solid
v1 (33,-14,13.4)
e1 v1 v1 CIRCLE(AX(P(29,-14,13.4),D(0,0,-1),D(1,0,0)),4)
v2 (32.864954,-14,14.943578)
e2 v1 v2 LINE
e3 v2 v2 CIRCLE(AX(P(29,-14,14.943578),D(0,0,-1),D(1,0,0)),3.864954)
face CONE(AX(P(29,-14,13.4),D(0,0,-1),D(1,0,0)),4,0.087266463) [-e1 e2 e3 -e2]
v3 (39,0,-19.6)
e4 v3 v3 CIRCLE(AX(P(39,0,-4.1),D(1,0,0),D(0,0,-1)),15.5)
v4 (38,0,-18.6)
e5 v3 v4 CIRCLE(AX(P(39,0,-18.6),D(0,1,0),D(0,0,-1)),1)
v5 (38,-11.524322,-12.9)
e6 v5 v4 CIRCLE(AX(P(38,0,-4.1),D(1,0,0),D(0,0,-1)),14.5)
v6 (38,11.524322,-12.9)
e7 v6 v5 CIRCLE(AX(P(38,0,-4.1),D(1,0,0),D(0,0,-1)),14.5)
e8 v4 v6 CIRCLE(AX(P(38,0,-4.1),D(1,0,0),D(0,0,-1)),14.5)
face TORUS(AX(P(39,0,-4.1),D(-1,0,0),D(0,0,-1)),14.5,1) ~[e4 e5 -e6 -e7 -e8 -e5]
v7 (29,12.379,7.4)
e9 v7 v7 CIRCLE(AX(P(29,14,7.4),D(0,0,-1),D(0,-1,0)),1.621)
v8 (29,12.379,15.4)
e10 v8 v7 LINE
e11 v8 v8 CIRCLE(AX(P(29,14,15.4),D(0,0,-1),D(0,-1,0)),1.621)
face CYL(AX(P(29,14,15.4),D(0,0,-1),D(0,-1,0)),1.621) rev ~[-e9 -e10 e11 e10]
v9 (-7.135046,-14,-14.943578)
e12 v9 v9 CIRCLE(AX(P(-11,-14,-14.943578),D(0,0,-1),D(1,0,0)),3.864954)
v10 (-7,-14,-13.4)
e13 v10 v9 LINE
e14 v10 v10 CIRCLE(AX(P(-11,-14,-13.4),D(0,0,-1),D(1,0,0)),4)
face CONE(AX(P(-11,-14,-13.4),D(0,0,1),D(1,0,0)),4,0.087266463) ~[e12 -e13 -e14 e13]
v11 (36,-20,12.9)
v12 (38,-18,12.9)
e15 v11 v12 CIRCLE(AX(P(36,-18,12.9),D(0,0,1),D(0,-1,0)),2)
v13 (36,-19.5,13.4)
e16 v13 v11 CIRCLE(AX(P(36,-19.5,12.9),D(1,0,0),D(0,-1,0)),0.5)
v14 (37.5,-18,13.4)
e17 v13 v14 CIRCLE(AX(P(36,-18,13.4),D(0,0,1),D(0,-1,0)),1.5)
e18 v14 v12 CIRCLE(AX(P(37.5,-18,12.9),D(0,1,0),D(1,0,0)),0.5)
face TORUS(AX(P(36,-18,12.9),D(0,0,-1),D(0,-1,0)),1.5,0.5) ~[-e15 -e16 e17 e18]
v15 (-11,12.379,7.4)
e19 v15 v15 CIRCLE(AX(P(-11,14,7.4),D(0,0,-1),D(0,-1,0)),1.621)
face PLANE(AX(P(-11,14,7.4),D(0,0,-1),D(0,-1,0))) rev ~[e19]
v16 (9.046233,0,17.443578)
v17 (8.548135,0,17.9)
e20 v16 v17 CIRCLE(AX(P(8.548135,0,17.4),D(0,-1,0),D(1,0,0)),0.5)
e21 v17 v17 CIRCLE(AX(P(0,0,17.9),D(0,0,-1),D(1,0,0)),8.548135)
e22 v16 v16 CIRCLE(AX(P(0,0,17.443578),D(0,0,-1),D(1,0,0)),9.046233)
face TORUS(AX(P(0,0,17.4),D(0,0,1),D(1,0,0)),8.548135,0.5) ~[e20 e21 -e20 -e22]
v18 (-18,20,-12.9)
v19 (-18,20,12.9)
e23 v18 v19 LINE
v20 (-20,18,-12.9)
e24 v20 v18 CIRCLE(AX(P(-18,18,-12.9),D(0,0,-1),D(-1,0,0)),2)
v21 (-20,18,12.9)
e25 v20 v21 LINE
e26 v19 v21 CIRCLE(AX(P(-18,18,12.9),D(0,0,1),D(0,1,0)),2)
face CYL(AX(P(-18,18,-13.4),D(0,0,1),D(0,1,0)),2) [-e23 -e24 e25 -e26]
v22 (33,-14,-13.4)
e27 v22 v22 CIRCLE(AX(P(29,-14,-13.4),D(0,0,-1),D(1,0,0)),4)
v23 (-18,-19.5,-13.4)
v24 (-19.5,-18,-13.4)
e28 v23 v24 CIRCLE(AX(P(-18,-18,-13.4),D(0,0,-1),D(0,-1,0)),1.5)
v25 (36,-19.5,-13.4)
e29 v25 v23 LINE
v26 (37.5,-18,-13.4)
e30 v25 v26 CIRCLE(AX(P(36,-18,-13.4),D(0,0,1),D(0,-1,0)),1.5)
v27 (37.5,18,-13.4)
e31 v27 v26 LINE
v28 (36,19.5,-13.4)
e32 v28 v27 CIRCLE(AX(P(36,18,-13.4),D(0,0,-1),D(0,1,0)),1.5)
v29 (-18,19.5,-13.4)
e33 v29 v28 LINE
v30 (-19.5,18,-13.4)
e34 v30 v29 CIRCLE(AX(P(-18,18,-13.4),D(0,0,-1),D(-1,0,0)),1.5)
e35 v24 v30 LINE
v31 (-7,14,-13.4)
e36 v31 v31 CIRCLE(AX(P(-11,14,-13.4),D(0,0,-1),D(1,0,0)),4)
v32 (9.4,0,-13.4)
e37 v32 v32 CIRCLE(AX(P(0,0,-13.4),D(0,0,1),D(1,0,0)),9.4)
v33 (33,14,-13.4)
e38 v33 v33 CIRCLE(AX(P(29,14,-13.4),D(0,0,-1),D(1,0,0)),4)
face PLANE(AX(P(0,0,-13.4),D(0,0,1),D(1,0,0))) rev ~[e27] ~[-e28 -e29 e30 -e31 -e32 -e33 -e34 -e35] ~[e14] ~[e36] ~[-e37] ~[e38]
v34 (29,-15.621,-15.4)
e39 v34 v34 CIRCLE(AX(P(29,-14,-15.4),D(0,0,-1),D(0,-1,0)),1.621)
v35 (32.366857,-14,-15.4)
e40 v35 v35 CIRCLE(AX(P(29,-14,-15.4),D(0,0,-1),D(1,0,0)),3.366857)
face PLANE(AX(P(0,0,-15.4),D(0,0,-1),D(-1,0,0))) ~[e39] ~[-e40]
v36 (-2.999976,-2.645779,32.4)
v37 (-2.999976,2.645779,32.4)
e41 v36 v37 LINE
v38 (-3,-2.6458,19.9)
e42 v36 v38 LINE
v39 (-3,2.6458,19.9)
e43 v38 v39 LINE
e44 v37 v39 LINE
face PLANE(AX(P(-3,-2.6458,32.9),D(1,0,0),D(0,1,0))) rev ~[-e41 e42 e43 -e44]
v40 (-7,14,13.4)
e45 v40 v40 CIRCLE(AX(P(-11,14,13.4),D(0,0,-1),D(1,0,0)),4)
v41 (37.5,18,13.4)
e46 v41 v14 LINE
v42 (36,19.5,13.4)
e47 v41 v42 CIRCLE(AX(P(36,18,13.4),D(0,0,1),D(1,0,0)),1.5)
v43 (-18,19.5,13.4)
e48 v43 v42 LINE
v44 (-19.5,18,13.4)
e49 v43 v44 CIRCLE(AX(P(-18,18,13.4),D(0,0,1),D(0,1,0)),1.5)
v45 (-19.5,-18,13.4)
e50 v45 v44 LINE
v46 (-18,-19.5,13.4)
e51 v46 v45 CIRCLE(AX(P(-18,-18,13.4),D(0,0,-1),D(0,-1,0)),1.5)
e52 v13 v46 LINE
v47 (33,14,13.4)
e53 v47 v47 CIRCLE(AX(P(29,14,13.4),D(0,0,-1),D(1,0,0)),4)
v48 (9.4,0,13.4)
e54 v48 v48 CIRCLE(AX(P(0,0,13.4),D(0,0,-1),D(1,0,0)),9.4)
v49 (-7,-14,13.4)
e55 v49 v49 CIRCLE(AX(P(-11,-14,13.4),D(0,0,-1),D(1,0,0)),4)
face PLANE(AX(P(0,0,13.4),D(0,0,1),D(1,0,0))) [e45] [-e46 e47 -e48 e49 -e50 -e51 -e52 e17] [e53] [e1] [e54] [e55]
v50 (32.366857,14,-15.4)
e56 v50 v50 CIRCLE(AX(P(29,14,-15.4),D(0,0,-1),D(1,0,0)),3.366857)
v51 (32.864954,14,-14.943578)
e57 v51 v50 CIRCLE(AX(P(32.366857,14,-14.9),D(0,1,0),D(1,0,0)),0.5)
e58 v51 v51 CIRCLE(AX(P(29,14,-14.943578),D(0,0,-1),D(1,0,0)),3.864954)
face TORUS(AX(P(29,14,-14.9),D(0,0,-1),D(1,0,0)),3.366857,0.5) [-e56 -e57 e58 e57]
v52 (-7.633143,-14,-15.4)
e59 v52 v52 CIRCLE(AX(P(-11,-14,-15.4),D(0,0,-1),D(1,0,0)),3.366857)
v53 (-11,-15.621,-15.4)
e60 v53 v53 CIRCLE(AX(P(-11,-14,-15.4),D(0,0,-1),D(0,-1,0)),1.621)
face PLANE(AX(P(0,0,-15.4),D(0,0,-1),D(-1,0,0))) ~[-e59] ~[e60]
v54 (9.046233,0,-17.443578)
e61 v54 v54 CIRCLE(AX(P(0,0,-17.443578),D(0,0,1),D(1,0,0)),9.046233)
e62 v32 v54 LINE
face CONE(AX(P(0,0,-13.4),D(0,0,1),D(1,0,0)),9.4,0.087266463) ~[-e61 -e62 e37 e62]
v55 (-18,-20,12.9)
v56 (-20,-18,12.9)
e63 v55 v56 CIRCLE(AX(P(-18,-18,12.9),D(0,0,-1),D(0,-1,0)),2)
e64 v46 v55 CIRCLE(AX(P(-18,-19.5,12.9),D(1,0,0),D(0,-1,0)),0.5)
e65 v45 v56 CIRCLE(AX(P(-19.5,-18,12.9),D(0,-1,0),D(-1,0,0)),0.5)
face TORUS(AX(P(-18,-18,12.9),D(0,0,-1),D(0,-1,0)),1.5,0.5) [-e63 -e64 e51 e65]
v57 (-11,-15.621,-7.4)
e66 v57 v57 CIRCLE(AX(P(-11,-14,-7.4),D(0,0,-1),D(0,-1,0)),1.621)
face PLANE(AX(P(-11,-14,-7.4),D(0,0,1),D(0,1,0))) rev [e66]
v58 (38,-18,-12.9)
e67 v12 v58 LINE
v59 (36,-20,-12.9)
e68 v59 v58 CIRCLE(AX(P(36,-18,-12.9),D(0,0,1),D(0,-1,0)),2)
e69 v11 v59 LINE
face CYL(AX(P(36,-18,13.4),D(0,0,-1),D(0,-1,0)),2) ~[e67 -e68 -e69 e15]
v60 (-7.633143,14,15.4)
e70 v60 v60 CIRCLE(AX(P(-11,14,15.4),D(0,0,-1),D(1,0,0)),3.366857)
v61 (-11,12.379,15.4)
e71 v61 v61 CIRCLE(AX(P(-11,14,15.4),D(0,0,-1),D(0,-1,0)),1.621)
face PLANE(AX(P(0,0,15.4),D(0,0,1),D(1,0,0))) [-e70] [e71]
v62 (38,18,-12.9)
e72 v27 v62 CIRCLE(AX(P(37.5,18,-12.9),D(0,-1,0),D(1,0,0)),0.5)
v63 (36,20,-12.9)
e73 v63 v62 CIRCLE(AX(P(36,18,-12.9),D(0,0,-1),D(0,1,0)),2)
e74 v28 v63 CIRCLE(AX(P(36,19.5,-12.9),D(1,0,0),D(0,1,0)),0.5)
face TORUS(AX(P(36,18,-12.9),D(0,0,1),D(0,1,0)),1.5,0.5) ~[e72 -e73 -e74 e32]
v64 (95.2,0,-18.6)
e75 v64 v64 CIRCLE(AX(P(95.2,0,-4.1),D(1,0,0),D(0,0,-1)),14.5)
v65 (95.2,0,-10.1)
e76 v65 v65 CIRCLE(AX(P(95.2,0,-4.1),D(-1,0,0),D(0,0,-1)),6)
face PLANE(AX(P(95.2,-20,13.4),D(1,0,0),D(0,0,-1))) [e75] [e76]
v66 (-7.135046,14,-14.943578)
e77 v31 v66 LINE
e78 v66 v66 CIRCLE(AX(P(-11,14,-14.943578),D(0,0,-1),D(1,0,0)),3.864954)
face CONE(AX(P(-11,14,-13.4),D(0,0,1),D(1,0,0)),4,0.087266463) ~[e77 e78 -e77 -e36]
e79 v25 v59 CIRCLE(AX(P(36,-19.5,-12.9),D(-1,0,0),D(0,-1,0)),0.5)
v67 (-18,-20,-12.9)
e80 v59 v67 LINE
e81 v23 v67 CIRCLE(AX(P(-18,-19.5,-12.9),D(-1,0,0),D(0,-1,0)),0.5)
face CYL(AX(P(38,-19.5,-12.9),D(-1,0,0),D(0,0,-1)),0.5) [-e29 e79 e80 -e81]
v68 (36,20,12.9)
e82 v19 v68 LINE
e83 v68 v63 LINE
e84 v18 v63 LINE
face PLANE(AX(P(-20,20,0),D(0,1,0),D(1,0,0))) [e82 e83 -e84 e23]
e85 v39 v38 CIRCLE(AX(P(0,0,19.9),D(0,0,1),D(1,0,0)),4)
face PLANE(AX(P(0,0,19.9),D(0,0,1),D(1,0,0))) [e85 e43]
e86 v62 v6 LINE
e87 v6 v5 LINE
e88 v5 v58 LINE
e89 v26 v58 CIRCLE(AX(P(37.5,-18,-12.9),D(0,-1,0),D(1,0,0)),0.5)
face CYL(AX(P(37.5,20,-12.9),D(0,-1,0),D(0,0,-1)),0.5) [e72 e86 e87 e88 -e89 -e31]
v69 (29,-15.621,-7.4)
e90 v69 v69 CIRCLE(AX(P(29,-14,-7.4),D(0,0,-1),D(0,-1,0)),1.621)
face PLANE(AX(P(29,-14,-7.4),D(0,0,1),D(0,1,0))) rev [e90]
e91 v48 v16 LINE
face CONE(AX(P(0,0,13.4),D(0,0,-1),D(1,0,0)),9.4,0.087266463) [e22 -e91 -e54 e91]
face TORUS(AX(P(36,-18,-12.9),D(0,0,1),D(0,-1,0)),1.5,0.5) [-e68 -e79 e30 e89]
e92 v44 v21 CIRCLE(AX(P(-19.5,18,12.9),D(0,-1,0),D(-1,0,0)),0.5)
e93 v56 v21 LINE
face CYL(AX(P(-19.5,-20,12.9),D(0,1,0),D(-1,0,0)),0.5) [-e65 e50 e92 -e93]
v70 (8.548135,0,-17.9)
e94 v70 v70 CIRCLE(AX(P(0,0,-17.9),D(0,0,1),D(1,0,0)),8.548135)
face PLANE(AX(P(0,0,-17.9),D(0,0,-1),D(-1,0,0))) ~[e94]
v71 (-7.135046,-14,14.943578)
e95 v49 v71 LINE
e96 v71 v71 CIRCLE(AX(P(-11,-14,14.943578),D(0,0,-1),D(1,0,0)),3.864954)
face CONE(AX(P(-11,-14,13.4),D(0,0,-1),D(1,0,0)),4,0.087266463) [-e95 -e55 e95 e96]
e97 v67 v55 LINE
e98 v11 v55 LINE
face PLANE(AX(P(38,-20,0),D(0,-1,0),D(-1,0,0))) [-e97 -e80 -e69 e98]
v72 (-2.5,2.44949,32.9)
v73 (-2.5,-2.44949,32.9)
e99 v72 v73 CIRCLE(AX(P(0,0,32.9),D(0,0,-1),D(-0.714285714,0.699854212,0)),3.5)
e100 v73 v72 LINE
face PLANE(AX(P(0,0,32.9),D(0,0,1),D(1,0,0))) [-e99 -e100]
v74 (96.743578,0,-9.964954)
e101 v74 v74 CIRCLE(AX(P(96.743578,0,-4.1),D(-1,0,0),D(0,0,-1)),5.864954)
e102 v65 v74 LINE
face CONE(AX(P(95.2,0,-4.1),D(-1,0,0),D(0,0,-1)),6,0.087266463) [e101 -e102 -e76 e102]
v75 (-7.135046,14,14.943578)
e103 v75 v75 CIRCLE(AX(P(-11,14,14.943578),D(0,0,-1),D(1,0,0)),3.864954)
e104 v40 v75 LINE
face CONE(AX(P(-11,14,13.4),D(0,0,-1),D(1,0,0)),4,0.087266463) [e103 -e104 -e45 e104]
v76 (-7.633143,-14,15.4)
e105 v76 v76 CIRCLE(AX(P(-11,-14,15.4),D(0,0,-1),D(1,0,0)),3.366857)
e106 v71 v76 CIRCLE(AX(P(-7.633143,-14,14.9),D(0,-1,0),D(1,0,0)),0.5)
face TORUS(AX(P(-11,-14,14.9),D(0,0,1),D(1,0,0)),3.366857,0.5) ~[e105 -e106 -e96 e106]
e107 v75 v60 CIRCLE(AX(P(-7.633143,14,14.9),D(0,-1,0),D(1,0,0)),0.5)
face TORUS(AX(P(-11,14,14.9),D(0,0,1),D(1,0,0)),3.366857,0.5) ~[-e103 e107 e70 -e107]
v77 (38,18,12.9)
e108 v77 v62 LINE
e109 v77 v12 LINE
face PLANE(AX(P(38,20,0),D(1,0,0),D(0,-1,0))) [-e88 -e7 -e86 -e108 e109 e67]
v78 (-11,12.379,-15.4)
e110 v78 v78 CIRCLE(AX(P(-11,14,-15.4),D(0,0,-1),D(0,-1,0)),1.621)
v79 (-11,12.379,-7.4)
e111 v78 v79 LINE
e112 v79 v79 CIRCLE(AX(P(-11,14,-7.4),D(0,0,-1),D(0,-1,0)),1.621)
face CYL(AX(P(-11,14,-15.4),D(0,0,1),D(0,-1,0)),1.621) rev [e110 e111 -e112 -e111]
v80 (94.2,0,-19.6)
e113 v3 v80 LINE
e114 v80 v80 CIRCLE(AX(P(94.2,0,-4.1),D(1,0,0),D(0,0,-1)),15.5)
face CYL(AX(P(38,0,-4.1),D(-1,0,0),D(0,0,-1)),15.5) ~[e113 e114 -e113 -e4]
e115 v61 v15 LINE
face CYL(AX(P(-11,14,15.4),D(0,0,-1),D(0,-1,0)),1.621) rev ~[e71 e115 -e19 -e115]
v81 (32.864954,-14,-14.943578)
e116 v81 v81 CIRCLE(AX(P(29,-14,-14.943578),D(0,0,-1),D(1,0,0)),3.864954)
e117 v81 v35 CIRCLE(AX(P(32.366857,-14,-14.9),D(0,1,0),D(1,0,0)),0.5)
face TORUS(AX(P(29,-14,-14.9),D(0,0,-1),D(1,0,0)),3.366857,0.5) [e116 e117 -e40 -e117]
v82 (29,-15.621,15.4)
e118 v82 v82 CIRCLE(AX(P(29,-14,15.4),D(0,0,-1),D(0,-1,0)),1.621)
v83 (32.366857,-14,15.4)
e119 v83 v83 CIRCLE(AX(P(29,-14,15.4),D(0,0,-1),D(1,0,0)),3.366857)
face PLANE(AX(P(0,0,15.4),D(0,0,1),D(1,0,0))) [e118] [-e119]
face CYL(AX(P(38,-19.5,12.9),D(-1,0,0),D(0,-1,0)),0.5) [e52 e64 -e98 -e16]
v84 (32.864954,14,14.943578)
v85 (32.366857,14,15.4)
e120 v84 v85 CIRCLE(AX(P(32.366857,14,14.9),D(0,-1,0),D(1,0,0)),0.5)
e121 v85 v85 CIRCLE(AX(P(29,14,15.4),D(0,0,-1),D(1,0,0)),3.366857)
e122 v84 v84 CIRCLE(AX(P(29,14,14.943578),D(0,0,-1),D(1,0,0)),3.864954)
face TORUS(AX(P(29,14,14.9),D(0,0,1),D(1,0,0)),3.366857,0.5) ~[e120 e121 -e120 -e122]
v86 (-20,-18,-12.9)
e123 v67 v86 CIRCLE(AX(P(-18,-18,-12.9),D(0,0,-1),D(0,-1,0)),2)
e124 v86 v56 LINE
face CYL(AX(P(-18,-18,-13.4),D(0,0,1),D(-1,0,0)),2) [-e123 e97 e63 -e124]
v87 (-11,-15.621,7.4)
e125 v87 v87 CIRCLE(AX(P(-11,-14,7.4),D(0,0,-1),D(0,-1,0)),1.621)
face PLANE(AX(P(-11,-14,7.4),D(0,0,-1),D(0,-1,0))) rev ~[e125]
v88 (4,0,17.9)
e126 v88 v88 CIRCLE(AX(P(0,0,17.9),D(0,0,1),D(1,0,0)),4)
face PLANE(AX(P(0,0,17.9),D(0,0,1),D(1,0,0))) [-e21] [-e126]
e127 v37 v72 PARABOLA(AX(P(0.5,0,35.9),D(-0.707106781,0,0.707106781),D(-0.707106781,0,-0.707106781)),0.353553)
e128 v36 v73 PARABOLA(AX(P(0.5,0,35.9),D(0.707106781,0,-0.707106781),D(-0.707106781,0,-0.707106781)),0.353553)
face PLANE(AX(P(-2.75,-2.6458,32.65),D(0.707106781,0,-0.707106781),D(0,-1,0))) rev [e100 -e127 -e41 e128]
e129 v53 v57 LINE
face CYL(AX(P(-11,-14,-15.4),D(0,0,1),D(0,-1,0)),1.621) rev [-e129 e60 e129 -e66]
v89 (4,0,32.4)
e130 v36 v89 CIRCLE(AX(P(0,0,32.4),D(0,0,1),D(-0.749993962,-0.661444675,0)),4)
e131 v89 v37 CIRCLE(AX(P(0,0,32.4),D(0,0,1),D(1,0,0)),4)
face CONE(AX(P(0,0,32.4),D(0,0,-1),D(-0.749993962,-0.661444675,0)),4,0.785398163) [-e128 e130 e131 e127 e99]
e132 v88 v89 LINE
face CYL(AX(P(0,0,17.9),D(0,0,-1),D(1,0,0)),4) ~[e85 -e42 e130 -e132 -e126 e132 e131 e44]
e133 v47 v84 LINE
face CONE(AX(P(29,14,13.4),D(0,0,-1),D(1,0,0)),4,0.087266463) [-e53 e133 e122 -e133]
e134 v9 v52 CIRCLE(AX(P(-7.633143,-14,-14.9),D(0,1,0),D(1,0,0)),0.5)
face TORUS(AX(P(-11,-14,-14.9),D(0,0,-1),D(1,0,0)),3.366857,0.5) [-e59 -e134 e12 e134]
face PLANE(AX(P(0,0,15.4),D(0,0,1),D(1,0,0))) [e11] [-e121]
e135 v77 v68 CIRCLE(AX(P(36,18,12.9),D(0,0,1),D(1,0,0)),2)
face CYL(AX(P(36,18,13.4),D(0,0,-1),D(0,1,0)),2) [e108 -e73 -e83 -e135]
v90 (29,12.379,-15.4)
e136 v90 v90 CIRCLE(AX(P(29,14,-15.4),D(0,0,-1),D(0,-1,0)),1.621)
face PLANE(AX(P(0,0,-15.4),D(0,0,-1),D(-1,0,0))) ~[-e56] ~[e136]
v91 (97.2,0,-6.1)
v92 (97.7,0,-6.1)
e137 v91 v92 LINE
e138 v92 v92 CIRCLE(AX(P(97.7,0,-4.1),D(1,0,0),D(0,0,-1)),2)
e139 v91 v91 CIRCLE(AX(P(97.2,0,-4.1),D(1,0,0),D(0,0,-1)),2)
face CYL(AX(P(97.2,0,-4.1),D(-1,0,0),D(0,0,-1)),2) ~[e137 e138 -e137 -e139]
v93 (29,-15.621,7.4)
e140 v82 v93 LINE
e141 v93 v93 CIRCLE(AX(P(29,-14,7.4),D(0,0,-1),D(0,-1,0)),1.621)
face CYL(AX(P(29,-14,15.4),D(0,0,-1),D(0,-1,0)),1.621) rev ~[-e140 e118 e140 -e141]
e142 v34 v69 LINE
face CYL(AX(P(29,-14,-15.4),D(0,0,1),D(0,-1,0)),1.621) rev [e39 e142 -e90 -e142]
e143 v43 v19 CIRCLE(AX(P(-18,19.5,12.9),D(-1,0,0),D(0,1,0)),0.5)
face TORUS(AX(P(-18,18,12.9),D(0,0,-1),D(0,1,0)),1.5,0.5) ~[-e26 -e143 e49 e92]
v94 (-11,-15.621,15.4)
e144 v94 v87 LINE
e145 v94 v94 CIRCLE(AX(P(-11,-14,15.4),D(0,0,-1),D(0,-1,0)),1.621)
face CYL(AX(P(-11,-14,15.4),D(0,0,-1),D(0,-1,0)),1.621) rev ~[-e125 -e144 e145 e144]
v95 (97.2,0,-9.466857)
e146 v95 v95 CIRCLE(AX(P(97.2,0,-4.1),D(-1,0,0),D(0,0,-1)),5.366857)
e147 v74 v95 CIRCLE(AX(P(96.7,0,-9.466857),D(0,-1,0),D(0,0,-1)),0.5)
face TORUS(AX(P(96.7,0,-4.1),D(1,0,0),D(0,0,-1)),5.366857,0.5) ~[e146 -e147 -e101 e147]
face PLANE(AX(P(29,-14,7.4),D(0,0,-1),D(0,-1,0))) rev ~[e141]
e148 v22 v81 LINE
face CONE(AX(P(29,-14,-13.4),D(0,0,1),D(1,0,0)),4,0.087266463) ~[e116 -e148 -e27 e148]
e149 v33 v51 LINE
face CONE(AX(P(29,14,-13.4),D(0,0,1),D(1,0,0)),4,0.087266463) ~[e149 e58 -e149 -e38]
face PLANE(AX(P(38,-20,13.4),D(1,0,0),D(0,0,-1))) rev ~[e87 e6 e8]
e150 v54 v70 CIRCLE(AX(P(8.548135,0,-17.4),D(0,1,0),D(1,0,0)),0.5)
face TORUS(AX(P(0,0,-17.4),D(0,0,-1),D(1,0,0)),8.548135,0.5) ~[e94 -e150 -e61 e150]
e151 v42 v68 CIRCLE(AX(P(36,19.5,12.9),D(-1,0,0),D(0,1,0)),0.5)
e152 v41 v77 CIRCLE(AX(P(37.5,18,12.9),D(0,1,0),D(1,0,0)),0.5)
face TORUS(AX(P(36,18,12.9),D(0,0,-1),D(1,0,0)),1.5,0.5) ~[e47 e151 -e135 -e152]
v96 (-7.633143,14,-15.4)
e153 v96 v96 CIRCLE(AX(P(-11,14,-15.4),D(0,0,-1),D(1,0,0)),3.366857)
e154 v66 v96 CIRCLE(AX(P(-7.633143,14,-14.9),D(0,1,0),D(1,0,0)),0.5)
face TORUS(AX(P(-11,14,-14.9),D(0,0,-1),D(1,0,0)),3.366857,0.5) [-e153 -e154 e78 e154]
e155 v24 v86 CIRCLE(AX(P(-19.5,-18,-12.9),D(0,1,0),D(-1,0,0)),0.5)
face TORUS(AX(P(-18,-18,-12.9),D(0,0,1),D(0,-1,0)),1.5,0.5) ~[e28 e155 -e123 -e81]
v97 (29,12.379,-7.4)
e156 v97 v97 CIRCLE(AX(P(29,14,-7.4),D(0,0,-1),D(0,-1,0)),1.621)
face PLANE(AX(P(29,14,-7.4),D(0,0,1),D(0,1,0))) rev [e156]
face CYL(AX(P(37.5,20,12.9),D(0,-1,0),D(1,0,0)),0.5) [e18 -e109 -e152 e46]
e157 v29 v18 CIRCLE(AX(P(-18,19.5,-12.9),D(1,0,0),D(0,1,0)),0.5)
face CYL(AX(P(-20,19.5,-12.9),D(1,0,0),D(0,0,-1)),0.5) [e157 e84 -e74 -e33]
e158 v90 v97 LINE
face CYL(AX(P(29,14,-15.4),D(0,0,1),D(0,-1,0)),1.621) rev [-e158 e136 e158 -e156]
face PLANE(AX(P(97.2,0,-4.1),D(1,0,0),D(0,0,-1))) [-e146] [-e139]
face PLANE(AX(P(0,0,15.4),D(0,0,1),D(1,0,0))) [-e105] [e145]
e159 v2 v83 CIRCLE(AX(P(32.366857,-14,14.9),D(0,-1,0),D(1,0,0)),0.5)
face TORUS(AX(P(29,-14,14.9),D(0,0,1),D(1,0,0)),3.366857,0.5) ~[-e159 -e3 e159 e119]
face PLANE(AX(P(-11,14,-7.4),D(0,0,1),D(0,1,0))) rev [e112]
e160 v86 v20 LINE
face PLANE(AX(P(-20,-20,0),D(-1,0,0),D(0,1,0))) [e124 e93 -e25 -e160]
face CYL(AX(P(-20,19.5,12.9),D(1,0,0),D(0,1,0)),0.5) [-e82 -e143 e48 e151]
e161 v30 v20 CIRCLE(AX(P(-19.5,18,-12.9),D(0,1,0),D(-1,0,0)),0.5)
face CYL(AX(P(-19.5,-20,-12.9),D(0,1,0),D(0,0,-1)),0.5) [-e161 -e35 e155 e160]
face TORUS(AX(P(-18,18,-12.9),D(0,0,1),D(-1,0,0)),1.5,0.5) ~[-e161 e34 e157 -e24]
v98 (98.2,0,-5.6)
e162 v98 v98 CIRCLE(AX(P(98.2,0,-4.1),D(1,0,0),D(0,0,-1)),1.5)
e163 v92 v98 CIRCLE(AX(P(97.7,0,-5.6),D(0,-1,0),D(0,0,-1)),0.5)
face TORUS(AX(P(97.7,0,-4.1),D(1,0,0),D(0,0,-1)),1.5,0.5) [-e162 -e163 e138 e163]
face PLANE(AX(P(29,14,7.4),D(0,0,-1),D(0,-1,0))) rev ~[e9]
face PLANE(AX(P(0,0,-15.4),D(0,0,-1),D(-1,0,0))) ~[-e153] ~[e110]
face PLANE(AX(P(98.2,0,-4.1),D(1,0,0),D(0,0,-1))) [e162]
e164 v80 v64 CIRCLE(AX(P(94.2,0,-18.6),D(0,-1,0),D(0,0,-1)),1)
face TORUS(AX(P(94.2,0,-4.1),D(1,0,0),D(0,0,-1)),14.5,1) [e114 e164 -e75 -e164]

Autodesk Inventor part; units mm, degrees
ref_plane "YZ Plane" through (0, 0, 0) normal (1, 0, 0) x (0, 1, 0)
ref_plane "XZ Plane" through (0, 0, 0) normal (0, 1, 0) x (-1, 0, 0)
ref_plane "XY Plane" through (0, 0, 0) normal (0, 0, 1) x (1, 0, 0)
sketch "Sketch1" plane through (0, 0, 0) normal (0, 0, 1) x (1, 0, 0)
  line L0 (-20, 20) -> (38, 20)
  line L1 (38, 20) -> (38, -20)
  line L2 (38, -20) -> (-20, -20)
  line L3 (-20, -20) -> (-20, 20)
  line L4 (-20, 20) -> (38, -20) construction
  line L5 (38, 20) -> (-20, -20) construction
  point P0 (0, 0)
  point P1 (9, 0)
  point P2 (9, 0)
  dimension "GearboxLength" = 58
  dimension "Gearbox_Width" = 40
  dimension "AxelOffset" = 20
extrude "GearboxBody" add sketch "Sketch1" along normal mid plane 26.8
sketch "Sketch2" plane through (0, 0, 13.4) normal (0, 0, 1) x (1, 0, 0)
  line L0 (-20, -20) -> (38, -20) projected
  line L1 (-20, 20) -> (-20, -20) projected
  circle A0 centre (-11, -14) radius 4
  circle A1 centre (29, -14) radius 4
  circle A2 centre (-11, 14) radius 4
  circle A3 centre (29, 14) radius 4
  line L2 (0, 0) -> (-20, 0) construction
  dimension "d5" = 8
  dimension "d6" = 11
  dimension "d9" = 40
  dimension "d12" = 28
extrude "MountBosses" add sketch "Sketch2" along normal blind 2 draft -5
sketch "Sketch3" plane through (0, 0, 13.4) normal (0, 0, 1) x (1, 0, 0)
  circle A0 centre (0, 0) radius 9.4
  dimension "d17" = 18.8
extrude "AxelBoss" add sketch "Sketch3" along normal blind 4.5 draft -5
sketch "Sketch4" plane through (0, 0, 17.9) normal (0, 0, 1) x (1, 0, 0)
  circle A0 centre (0, 0) radius 9.0063 projected
  circle A1 centre (0, 0) radius 4
  dimension "d20" = 8
extrude "Axel" add sketch "Sketch4" along normal blind 15 contours A1
sketch "Sketch5" plane through (0, 0, 32.9) normal (0, 0, 1) x (1, 0, 0)
  circle A0 centre (0, 0) radius 4 projected
  line L0 (-3, -2.6458) -> (-3, 2.6458)
  line L1 (-3, -2.6458) -> (2.2915, -2.6458) construction
  line L2 (-3, 0) -> (4, 0) construction
  point P0 (4, 0)
  dimension "d23" = 90
  dimension "d24" = 7
extrude "AxelFlat" cut sketch "Sketch5" against normal blind 13 contours L0 A0 picked at (-3.1815, -0.6179)
sketch "Sketch6" plane through (-11, -14, 15.4) normal (0, 0, 1) x (1, 0, 0)
  circle A0 centre (0, 0) radius 3.825 construction
  circle A1 centre (40, 0) radius 3.825 construction
  circle A2 centre (40, 28) radius 3.825 construction
  circle A3 centre (0, 28) radius 3.825 construction
  point P0 (11, 14)
hole "MountHoles" at (-11, -14, 15.4) at (29, -14, 15.4) at (29, 14, 15.4) at (-11, 14, 15.4) direction (0, 0, -1) diameter 3.242 depth 8 thread size "M4x0.7" class "6H" standard "ISO Metric profile"
fillet "BossFillets" radius 0.5 5 edges at (-14.825, -14, 15.4) (25.175, -14, 15.4) (25.175, 14, 15.4) (-14.825, 14, 15.4) (-9.0063, 0, 17.9)
chamfer "AxelChamfer" distance 0.5 angle 45 3 edges at (1.4142, -3.7417, 32.9) (1.4142, 3.7417, 32.9) (-3, 0, 32.9)
mirror "Mirror1" about plane through (0, 0, 0) normal (0, 0, 1) of "MountBosses", "MountHoles", "AxelBoss", "BossFillets"
fillet "Fillet1" radius 2 4 edges at (38, -20, 0) (-20, -20, 0) (38, 20, 0) (-20, 20, 0)
fillet "Fillet1" radius 0.5 8 edges at (9, -20, 13.4) (38, 0, 13.4) (9, 20, 13.4) (-20, 0, 13.4) (9, -20, -13.4) (-20, 0, -13.4) (9, 20, -13.4) (38, 0, -13.4)
sketch "Sketch7" plane through (38, -20, 13.4) normal (1, 0, 0) x (0, 0, -1)
  line L0 (0, 0) -> (0, 40) projected
  circle A0 centre (17.5, 20) radius 15.5
  point P0 (13.4, 20)
  dimension "MotorDia" = 31
  dimension "d35" = 17.5
extrude "MotorBody" add sketch "Sketch7" along normal blind 57.2 separate body
sketch "Sketch8" plane through (95.2, 0, -4.1) normal (1, 0, 0) x (0, 0, -1)
  circle A0 centre (0, 0) radius 15.5 projected
  circle A1 centre (0, 0) radius 6
  point P0 (-4.1, 0)
  dimension "d38" = 12
extrude "Extrusion7" add sketch "Sketch8" along normal blind 2 draft -5 contours A1 bodies 2
sketch "Sketch9" plane through (97.2, 0, -4.1) normal (1, 0, 0) x (0, 0, -1)
  circle A0 centre (0, 0) radius 5.825 projected
  circle A1 centre (0, 0) radius 2
  point P0 (-4.1, 0)
  dimension "d41" = 4
extrude "Extrusion8" add sketch "Sketch9" along normal blind 1 contours A1 bodies 2
fillet "Fillet3" radius 1 2 edges at (38, 0, 11.4) (95.2, 0, 11.4)
fillet "Fillet4" radius 0.5 2 edges at (97.2, 0, 1.725) (98.2, 0, -2.1)
combine bodies "Combine1" operation type add bodies to combine 2 1
sketch "Sketch10" plane through (29, -14, 7.4) normal (0, 0, 1) x (1, 0, 0)
  point P0 (0, 0)
sketch "Sketch11" plane through (29, 14, 7.4) normal (0, 0, 1) x (1, 0, 0)
  point P0 (0, 0)
sketch "Sketch12" plane through (-11, 14, 7.4) normal (0, 0, 1) x (1, 0, 0)
  point P0 (0, 0)
sketch "Sketch13" plane through (-11, -14, 7.4) normal (0, 0, 1) x (1, 0, 0)
  point P0 (0, 0)
properties part number "SteeringMotor"
